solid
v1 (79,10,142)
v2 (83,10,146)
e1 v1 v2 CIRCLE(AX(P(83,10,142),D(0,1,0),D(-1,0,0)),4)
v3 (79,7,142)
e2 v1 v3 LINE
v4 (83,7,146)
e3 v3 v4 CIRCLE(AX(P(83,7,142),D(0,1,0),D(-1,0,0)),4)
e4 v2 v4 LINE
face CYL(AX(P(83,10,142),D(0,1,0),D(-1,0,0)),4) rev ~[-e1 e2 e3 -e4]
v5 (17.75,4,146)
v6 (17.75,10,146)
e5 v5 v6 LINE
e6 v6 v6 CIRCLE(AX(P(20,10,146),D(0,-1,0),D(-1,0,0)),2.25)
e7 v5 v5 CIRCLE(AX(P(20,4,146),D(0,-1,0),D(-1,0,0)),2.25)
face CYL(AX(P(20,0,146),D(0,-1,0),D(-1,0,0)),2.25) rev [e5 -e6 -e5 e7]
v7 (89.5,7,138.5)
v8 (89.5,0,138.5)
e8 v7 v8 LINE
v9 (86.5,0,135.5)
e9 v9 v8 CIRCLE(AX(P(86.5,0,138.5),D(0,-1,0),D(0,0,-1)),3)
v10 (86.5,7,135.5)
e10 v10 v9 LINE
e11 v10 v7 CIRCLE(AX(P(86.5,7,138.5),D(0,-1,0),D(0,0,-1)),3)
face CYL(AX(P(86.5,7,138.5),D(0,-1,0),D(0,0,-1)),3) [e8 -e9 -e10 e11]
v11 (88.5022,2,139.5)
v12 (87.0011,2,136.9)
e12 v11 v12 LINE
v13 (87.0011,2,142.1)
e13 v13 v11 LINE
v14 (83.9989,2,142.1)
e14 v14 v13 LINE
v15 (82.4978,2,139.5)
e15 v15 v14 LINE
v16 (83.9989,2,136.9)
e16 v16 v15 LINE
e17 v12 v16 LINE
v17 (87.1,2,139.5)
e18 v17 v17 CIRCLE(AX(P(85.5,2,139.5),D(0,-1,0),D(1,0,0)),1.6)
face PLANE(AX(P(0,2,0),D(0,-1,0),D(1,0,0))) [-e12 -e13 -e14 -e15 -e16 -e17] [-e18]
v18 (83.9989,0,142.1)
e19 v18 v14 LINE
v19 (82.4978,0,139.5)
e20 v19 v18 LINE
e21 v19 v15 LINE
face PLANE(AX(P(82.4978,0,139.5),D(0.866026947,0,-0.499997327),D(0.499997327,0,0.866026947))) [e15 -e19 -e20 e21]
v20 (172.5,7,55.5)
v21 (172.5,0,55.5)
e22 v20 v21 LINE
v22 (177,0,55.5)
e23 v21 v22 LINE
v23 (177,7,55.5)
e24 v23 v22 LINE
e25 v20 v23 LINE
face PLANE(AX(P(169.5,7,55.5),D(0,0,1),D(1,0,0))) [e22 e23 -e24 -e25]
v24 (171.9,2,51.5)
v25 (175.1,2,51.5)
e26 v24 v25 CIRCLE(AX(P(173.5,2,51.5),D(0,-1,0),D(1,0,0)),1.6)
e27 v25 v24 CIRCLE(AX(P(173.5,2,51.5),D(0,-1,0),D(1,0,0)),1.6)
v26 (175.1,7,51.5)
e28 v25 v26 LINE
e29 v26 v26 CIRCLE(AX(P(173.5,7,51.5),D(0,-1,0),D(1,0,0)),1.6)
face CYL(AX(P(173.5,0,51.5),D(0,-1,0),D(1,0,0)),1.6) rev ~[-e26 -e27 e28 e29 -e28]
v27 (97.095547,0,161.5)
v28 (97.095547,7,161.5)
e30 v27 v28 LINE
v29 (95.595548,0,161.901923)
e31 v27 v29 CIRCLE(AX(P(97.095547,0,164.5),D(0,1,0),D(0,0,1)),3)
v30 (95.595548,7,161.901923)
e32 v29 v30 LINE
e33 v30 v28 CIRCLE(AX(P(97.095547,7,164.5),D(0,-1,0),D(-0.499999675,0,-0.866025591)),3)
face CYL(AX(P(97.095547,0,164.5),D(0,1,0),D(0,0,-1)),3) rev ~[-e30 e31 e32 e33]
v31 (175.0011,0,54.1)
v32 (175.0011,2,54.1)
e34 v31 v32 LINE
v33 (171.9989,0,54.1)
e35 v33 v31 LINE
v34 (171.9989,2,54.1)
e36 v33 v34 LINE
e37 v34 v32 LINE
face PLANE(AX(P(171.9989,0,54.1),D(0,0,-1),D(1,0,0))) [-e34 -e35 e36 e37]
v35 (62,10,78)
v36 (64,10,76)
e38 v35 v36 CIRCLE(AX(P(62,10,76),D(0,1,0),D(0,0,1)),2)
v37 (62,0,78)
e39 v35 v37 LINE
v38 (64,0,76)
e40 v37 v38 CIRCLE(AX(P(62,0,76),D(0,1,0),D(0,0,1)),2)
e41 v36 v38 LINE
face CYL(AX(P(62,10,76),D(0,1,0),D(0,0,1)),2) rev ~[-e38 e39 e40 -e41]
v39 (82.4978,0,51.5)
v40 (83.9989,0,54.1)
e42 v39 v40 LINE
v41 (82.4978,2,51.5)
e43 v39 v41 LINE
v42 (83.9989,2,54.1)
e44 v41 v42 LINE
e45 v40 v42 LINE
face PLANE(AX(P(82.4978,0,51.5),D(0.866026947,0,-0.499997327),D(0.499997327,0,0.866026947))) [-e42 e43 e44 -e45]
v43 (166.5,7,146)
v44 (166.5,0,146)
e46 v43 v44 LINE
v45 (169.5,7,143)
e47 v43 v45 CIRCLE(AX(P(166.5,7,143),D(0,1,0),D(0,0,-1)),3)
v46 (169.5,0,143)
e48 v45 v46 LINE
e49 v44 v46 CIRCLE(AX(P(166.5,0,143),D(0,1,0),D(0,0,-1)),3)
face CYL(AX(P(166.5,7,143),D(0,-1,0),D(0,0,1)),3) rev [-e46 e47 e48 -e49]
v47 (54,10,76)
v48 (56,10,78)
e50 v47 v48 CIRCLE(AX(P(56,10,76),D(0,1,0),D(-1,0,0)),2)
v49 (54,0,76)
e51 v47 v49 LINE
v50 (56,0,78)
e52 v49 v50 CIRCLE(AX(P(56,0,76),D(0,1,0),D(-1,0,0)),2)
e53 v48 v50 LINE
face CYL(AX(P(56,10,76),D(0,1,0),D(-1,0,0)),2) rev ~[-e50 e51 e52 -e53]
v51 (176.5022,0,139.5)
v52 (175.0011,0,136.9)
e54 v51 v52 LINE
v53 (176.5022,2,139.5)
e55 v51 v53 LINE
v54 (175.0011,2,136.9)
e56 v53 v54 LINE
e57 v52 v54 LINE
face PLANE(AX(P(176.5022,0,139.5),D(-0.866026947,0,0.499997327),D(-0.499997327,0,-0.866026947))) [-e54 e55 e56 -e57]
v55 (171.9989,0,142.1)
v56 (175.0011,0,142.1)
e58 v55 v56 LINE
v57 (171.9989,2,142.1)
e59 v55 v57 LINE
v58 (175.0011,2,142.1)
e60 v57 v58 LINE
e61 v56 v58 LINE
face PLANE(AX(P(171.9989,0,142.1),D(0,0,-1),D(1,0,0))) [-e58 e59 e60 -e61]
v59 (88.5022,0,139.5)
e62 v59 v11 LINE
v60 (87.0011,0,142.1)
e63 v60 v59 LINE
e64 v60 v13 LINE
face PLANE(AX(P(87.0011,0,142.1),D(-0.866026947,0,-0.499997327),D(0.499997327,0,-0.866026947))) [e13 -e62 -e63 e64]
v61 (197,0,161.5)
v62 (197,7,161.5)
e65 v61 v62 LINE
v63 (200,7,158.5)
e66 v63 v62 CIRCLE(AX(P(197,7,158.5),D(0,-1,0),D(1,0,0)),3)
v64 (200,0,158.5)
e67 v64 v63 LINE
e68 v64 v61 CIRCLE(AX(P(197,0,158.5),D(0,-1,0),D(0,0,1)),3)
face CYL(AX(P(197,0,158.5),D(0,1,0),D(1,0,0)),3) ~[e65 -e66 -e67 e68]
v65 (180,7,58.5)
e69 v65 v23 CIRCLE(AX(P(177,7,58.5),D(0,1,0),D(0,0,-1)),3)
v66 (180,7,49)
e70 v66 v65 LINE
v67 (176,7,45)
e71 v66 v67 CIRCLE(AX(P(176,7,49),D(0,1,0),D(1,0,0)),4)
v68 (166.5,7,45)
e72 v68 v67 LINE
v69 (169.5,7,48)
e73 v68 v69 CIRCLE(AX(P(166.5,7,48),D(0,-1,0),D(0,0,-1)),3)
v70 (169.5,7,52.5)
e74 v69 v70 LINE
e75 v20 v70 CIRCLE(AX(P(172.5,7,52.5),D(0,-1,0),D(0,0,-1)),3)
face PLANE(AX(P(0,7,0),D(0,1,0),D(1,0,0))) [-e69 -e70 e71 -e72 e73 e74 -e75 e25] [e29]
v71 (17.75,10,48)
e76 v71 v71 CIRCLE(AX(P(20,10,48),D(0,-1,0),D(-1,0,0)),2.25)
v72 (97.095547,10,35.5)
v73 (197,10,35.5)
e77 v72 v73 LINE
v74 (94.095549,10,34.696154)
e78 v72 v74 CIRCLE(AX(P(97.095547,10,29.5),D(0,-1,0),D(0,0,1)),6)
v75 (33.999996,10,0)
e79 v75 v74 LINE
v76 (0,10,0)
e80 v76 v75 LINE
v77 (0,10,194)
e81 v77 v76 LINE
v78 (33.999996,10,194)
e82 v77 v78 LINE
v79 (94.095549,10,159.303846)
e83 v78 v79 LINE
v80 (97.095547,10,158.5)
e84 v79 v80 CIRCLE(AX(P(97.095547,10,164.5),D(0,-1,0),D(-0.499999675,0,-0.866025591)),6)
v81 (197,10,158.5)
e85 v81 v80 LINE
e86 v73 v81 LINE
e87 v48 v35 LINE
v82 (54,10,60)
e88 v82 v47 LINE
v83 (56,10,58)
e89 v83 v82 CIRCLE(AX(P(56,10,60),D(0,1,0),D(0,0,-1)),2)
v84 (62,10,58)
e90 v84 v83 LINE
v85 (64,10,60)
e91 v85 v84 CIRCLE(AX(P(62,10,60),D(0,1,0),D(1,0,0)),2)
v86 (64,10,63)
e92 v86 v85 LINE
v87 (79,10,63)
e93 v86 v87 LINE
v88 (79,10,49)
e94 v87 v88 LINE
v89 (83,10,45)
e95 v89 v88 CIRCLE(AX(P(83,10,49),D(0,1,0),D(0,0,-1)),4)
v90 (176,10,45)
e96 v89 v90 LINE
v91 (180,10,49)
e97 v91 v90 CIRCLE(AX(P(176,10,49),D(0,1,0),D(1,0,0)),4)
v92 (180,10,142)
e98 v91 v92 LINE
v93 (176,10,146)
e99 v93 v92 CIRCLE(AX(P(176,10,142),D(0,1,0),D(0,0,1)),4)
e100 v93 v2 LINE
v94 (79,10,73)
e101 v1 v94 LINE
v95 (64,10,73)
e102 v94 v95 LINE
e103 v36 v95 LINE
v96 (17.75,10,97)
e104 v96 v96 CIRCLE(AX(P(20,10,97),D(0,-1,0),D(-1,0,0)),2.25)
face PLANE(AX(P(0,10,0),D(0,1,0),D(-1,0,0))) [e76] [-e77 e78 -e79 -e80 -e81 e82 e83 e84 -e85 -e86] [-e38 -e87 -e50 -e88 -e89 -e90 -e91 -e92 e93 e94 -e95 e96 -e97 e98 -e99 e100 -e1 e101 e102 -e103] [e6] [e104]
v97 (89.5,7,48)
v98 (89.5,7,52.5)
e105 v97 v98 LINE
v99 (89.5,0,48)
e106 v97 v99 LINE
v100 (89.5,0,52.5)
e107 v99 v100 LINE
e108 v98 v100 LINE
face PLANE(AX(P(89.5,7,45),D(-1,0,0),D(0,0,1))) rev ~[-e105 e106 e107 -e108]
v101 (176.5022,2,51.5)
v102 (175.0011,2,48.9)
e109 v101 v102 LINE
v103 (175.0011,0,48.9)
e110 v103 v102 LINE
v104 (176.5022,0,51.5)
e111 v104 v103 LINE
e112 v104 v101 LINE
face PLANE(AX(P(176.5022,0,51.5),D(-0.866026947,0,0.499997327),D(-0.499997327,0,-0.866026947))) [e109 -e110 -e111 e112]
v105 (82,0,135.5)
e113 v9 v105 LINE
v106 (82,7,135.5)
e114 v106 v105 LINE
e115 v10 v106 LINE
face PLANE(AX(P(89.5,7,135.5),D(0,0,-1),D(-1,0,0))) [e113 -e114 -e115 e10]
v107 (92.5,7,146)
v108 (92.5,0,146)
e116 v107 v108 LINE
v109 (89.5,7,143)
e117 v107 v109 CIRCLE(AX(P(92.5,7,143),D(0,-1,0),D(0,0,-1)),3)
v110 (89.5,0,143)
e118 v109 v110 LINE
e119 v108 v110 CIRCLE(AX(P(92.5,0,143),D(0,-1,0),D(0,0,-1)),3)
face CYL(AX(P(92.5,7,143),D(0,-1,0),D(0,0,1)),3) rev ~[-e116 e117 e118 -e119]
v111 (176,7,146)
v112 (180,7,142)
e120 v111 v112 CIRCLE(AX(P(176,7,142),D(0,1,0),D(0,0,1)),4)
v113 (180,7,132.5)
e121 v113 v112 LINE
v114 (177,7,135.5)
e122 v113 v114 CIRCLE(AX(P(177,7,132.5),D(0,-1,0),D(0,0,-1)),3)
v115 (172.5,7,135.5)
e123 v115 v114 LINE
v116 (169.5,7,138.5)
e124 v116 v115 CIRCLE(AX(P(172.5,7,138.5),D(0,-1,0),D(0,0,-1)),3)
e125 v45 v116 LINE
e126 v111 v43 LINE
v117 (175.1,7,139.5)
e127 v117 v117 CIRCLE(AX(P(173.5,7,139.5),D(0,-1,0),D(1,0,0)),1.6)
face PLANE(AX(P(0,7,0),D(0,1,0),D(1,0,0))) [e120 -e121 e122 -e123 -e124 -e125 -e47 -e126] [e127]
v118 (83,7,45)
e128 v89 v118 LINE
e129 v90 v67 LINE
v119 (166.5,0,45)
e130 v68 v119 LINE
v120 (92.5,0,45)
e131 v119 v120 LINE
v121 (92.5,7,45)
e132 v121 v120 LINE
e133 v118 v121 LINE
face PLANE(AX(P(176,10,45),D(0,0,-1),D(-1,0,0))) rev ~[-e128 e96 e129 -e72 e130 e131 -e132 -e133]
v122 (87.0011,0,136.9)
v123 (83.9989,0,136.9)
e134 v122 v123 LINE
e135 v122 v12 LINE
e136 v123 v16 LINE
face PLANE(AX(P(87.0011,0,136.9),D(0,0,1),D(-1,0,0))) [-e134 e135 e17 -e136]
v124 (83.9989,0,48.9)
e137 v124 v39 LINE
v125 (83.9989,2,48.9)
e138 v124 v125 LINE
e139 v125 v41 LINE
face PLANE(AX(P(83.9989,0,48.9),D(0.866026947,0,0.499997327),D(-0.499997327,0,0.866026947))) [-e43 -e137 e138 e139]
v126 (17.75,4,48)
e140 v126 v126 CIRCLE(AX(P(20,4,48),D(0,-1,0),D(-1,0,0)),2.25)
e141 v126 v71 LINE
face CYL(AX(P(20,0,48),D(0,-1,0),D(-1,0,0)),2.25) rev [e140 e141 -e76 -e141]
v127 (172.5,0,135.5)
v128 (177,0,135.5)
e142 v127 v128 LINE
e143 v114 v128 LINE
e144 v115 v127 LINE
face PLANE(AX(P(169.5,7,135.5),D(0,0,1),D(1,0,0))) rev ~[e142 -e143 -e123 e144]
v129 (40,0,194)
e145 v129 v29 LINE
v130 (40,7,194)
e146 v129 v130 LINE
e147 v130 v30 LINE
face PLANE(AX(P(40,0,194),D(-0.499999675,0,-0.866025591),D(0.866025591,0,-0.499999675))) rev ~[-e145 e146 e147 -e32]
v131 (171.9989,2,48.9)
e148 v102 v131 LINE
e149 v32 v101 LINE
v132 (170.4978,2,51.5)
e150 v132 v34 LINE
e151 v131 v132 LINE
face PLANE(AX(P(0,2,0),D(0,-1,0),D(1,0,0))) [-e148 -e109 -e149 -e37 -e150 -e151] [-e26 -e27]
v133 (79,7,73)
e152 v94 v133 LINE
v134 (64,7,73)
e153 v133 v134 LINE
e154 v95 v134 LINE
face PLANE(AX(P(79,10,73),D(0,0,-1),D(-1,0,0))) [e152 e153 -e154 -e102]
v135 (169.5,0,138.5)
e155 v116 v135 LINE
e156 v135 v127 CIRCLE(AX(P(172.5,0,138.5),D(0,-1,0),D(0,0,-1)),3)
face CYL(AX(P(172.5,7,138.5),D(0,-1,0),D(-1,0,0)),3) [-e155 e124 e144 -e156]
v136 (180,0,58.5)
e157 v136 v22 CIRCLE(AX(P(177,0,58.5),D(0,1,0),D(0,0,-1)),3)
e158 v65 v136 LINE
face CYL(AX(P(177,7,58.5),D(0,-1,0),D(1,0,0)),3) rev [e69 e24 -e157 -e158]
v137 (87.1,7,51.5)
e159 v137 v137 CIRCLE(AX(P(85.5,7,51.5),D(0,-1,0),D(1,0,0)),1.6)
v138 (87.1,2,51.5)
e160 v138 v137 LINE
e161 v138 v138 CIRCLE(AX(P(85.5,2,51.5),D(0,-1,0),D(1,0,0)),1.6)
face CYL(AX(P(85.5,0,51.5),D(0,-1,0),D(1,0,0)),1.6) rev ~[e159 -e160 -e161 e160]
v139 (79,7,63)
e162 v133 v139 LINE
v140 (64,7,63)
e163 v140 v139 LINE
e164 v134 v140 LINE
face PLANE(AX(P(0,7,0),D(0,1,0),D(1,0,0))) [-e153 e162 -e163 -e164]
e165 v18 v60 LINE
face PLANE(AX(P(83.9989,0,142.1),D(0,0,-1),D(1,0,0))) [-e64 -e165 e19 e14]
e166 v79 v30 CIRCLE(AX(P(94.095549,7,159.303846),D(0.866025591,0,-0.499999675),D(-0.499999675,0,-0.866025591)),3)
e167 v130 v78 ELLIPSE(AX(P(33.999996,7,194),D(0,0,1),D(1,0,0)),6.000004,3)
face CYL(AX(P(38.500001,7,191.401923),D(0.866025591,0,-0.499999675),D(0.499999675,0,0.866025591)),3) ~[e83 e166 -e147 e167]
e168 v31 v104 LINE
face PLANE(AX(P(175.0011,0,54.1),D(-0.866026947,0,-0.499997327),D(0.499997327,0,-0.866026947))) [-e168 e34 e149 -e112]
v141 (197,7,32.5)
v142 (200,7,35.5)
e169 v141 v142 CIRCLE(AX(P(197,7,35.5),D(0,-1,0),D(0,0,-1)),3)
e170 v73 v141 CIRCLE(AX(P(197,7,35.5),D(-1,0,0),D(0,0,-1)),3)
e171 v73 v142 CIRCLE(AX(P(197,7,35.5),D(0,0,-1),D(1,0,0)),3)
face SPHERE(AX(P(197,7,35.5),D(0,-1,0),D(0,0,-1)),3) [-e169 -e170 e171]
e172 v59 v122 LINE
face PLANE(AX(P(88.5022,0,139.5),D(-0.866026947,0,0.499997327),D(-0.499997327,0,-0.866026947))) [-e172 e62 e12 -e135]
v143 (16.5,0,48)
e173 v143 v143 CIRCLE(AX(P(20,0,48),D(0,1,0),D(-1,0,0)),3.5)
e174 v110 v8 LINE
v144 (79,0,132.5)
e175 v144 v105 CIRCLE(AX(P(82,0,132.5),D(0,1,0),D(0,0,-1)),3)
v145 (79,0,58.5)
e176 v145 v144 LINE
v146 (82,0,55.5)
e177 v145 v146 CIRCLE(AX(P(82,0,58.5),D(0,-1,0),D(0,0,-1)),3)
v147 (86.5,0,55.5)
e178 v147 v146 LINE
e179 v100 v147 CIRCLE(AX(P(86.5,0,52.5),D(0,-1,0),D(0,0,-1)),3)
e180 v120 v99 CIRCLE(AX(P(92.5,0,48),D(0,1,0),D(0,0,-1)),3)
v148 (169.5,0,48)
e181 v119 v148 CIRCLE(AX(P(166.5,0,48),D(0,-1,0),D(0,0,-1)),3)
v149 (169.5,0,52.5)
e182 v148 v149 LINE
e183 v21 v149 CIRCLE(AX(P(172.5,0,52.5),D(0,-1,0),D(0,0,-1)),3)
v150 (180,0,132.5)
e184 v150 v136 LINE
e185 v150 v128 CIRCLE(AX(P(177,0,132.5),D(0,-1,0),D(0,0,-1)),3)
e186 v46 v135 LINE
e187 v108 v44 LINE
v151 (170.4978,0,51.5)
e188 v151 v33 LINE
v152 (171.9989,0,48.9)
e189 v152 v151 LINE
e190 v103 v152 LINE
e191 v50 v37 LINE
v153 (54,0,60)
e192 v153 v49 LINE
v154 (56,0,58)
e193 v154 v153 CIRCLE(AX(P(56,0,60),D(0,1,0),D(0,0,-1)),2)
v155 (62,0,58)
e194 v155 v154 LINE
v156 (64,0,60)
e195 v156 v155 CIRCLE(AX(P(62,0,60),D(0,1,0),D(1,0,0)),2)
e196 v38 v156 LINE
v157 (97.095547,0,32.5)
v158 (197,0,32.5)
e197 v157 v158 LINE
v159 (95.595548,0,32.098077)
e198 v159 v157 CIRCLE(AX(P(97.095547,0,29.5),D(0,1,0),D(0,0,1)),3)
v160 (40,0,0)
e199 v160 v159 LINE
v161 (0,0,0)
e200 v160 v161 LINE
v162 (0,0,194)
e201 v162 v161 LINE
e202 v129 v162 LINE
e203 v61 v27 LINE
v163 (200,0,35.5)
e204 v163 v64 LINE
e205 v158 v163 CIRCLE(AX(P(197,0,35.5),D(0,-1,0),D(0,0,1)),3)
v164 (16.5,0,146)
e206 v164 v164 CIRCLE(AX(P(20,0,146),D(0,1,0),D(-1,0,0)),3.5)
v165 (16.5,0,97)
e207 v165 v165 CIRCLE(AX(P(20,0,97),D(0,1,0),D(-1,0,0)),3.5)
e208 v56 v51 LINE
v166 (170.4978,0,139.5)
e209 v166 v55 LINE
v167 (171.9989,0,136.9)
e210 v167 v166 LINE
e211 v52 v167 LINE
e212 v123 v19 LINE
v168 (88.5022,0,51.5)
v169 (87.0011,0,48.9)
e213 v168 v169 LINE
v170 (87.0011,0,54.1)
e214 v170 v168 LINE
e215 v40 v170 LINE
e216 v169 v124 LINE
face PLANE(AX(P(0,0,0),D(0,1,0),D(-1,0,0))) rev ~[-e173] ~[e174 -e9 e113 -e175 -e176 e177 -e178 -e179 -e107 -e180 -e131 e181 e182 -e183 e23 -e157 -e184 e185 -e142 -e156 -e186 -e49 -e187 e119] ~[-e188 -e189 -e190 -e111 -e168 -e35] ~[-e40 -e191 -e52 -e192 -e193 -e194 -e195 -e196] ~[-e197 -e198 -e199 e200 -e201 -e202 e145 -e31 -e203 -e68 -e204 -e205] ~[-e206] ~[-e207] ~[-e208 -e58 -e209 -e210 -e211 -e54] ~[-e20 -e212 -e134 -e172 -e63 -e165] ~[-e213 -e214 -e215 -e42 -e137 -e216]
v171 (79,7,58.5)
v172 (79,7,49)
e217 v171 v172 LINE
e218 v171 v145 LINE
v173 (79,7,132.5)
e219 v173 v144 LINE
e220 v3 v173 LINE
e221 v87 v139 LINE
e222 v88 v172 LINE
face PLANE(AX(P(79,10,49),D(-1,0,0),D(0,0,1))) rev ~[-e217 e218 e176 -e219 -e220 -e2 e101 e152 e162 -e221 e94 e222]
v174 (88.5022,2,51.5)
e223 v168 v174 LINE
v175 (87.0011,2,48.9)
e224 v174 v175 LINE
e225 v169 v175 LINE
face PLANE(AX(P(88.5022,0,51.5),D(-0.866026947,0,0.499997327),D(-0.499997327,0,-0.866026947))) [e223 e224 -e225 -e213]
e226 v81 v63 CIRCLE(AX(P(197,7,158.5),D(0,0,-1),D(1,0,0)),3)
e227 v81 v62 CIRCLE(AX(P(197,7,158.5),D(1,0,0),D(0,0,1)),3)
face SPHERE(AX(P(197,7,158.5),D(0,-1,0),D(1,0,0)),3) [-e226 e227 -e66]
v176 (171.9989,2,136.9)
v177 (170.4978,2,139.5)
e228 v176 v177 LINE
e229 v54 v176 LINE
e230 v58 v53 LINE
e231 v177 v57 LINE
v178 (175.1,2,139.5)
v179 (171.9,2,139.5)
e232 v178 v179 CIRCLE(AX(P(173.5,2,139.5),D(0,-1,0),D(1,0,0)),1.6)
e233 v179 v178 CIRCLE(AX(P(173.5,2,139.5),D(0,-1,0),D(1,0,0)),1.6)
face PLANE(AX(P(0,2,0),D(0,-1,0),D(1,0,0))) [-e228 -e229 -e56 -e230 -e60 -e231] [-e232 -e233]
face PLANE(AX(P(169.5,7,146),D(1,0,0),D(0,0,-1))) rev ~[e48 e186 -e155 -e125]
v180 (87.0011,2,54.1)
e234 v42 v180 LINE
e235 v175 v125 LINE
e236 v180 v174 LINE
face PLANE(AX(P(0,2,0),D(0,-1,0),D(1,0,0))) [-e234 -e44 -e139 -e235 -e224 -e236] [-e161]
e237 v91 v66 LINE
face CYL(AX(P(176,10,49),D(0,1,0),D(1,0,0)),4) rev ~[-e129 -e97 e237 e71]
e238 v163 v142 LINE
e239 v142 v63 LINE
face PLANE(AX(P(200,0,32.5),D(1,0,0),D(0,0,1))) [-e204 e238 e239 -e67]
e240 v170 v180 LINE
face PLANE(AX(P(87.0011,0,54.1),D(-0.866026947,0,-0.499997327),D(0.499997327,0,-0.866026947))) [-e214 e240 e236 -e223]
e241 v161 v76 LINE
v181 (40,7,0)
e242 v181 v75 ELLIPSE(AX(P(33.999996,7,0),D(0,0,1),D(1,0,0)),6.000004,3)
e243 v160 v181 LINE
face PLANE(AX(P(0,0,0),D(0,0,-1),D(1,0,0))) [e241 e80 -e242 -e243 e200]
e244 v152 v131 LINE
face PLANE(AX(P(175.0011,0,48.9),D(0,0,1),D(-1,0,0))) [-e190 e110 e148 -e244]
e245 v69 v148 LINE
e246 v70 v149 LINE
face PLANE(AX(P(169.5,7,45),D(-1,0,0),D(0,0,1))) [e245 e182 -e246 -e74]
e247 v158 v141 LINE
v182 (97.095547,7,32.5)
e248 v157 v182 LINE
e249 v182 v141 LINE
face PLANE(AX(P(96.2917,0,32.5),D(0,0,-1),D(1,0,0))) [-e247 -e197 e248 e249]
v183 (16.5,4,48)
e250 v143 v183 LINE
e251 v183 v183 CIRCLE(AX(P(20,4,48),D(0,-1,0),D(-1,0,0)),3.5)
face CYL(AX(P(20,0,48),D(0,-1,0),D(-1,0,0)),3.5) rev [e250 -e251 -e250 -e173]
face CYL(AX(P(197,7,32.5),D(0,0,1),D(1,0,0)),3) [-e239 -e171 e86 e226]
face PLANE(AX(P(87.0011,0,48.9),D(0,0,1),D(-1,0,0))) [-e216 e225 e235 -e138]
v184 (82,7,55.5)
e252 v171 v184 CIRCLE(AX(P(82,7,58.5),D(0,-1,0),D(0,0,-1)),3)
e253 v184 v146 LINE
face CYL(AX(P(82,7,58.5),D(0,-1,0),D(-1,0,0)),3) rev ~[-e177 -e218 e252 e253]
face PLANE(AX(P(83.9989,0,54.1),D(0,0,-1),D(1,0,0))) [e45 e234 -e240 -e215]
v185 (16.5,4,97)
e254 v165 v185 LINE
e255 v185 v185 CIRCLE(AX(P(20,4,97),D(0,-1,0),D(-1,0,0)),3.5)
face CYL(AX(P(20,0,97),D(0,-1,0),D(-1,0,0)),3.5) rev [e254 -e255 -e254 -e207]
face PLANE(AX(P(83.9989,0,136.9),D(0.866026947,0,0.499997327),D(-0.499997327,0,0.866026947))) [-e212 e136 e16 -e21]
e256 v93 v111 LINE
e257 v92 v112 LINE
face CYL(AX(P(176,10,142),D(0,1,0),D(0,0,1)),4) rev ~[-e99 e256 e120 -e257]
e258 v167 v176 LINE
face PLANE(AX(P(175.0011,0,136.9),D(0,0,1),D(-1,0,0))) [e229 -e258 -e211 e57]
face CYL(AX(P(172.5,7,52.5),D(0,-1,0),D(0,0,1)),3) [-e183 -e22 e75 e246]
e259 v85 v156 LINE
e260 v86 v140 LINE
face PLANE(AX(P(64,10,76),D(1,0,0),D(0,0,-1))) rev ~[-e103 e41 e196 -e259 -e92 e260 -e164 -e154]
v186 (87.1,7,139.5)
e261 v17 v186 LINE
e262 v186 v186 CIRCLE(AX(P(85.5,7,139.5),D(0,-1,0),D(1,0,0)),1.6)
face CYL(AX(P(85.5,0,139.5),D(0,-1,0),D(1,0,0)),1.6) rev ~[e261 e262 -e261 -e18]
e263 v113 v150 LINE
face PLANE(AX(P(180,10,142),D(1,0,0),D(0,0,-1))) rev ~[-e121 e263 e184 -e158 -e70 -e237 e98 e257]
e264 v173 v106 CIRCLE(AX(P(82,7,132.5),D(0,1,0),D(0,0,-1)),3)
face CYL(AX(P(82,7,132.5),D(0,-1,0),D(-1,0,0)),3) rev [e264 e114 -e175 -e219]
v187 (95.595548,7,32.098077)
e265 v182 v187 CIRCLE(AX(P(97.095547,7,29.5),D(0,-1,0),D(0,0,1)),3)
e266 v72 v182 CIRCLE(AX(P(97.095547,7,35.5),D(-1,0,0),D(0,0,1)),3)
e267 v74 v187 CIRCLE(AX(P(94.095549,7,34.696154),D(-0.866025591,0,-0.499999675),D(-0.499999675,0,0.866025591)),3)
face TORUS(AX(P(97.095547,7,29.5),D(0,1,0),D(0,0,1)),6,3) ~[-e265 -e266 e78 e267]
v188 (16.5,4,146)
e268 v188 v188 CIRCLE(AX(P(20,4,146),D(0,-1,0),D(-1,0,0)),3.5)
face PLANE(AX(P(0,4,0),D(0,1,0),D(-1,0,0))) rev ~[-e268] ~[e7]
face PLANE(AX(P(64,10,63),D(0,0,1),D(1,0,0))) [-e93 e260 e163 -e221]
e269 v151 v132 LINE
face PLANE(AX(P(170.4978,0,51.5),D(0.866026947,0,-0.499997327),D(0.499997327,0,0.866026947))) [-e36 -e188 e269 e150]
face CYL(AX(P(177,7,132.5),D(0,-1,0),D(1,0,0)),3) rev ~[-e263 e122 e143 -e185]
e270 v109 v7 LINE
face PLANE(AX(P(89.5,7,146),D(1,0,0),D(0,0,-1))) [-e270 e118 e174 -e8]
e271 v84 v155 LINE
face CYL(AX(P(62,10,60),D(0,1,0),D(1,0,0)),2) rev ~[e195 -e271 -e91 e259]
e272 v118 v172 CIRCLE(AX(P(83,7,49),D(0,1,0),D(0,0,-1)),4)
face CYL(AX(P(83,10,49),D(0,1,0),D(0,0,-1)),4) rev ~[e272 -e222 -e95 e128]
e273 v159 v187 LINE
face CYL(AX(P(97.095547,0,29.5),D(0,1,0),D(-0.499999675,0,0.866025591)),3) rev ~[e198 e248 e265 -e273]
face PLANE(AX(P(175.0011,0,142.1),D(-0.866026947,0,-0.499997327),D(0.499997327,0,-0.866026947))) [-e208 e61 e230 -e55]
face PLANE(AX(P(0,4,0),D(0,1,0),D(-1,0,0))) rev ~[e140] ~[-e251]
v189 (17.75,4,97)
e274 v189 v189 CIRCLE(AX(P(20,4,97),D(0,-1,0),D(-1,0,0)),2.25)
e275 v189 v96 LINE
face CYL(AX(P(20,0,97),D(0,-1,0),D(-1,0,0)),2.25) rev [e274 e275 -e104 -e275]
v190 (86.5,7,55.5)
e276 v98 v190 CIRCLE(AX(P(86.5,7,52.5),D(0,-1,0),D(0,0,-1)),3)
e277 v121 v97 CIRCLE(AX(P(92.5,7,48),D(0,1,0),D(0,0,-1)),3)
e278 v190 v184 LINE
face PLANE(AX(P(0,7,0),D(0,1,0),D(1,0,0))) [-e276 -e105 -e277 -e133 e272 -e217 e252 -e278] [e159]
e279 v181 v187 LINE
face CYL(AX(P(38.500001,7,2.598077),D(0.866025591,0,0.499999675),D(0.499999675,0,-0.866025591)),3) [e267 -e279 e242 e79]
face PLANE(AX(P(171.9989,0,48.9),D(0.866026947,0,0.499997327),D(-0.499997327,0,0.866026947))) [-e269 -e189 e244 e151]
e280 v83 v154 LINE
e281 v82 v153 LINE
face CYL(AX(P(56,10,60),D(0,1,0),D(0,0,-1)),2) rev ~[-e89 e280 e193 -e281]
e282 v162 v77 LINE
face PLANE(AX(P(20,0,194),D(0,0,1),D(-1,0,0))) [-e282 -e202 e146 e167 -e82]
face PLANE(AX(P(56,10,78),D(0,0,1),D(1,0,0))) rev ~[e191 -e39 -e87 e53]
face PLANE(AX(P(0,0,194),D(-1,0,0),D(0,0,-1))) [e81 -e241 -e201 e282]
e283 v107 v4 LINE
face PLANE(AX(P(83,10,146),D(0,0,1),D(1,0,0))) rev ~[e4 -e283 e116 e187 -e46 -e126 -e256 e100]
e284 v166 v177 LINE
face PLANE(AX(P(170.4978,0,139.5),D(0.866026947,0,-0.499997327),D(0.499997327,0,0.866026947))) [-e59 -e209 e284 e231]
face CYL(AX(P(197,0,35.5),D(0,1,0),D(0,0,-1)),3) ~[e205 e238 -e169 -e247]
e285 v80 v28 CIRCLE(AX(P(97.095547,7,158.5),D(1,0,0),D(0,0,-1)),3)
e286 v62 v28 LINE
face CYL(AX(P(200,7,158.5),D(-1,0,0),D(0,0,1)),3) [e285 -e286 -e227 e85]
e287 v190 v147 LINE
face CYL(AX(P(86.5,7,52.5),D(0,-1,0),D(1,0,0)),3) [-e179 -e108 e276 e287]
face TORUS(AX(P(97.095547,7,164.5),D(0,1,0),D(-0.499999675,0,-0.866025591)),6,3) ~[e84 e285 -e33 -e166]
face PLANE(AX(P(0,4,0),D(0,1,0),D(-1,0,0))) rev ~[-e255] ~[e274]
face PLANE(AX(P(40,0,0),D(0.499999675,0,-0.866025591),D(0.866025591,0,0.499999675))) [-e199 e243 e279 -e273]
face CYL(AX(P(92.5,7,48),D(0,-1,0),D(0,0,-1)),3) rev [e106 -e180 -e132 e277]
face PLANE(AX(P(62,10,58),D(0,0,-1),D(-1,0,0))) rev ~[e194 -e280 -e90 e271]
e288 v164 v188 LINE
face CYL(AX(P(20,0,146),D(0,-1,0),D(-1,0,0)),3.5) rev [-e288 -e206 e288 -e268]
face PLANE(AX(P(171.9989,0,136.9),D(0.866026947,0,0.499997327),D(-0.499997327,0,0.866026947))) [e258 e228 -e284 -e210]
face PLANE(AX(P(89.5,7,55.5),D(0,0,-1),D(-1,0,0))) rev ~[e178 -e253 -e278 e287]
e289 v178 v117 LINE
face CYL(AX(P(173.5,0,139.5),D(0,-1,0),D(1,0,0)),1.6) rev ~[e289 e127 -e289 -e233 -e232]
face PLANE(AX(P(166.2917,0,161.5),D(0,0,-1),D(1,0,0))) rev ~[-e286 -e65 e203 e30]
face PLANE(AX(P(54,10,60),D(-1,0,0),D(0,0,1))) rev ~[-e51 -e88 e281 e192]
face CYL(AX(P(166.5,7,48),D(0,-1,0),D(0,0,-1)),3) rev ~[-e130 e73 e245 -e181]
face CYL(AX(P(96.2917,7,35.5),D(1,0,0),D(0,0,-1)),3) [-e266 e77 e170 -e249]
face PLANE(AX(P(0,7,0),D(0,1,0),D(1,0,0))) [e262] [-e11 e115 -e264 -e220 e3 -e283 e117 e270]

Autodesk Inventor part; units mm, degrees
ref_plane "YZ Plane" through (0, 0, 0) normal (1, 0, 0) x (0, 1, 0)
ref_plane "XZ Plane" through (0, 0, 0) normal (0, 1, 0) x (-1, 0, 0)
ref_plane "XY Plane" through (0, 0, 0) normal (0, 0, 1) x (1, 0, 0)
sketch "스케치1" plane through (0, 0, 0) normal (0, 1, 0) x (-1, 0, 0)
  line L0 (0, 0) -> (-206, 0)
  line L1 (-210, 4) -> (-210, 190)
  line L2 (-206, 194) -> (0, 194)
  line L3 (0, 194) -> (0, 0)
  line L4 (-40, 0) -> (-40, 194)
  line L5 (-20, 0) -> (-20, 194)
  circle A0 centre (-20, 97) radius 3.5
  circle A1 centre (-20, 48) radius 3.5
  circle A2 centre (-20, 146) radius 3.5
  arc A3 (-210, 4) -> (-206, 0) centre (-206, 4) ccw
  arc A4 (-206, 194) -> (-210, 190) centre (-206, 190) ccw
  circle A5 centre (-20, 97) radius 2.25
  circle A6 centre (-20, 146) radius 2.25
  circle A7 centre (-20, 48) radius 2.25
  line L6 (-40, 194) -> (-96.2917, 161.5)
  line L7 (-40, 194) -> (25, 194) construction
  line L8 (-96.2917, 161.5) -> (-166.2917, 161.5)
  line L9 (-166.2917, 161.5) -> (-189.6101, 194)
  line L10 (-210, 161.5) -> (-200, 144.1795)
  line L11 (-210, 161.5) -> (-190, 161.5) construction
  line L12 (-210, 97) -> (-40, 97)
  line L13 (-40, 0) -> (-96.2917, 32.5)
  line L14 (-96.2917, 32.5) -> (-166.2917, 32.5)
  line L15 (-166.2917, 32.5) -> (-189.6101, 0)
  line L16 (-210, 32.5) -> (-200, 49.8205)
  line L17 (-200, 144.1795) -> (-200, 49.8205)
  line L18 (-166.2917, 32.5) -> (-200, 32.5)
  line L19 (-200, 32.5) -> (-200, 49.8205)
  line L20 (-200, 144.1795) -> (-200, 161.5)
  line L21 (-166.2917, 161.5) -> (-200, 161.5)
  point P0 (-210, 194)
  point P1 (-210, 0)
  dimension "d0" = 210
  dimension "d1" = 194
  dimension "d2" = 40
  dimension "d3" = 20
  dimension "d4" = 7
  dimension "d5" = 7
  dimension "d6" = 7
  dimension "d7" = 49
  dimension "d8" = 49
  dimension "d9" = 4
  dimension "d17" = 4.5
  dimension "d18" = 4.5
  dimension "d19" = 4.5
  dimension "d82" = 65
  dimension "d83" = 150
  dimension "d84" = 70
  dimension "d85" = 40
  dimension "d86" = 20
  dimension "d87" = 60
extrude "돌출1" add sketch "스케치1" along normal blind 10
extrude "돌출2" cut sketch "스케치1" along normal blind 3 contours A1 L5 A7 | L5 A7 A1 | A7 L5 | L5 A7 | A2 L5 A6 | L5 A6 A2 | A0 L5 A5 | L5 A5 A0 | A6 L5 | L5 A6 | A5 L5 | L5 A5
sketch "스케치2" plane through (0, 0, 0) normal (0, -1, 0) x (1, 0, 0)
  line L0 (176, 45) -> (83, 45)
  line L1 (79, 49) -> (79, 142)
  line L2 (83, 146) -> (176, 146)
  line L3 (180, 142) -> (180, 49)
  line L4 (206, 0) -> (0, 0) projected
  line L5 (210, 190) -> (210, 4) projected
  arc A0 (176, 45) -> (180, 49) centre (176, 49) ccw
  arc A1 (180, 142) -> (176, 146) centre (176, 142) ccw
  arc A2 (83, 146) -> (79, 142) centre (83, 142) ccw
  arc A3 (79, 49) -> (83, 45) centre (83, 49) ccw
  line L6 (180, 45) -> (169.5, 45)
  line L7 (169.5, 45) -> (169.5, 55.5)
  line L8 (169.5, 55.5) -> (180, 55.5)
  line L9 (180, 55.5) -> (180, 45)
  line L10 (79, 45) -> (89.5, 45)
  line L11 (89.5, 45) -> (89.5, 55.5)
  line L12 (89.5, 55.5) -> (79, 55.5)
  line L13 (79, 55.5) -> (79, 45)
  line L14 (180, 146) -> (169.5, 146)
  line L15 (169.5, 146) -> (169.5, 135.5)
  line L16 (169.5, 135.5) -> (180, 135.5)
  line L17 (180, 135.5) -> (180, 146)
  line L18 (79, 146) -> (89.5, 146)
  line L19 (89.5, 146) -> (89.5, 135.5)
  line L20 (89.5, 135.5) -> (79, 135.5)
  line L21 (79, 135.5) -> (79, 146)
  circle A4 centre (173.5, 51.5) radius 1.6
  circle A5 centre (85.5, 51.5) radius 1.6
  circle A6 centre (85.5, 139.5) radius 1.6
  circle A7 centre (173.5, 139.5) radius 1.6
  line L22 (173.5, 51.5) -> (169.5, 51.5)
  line L23 (170.4978, 51.5) -> (171.9989, 54.1)
  line L24 (171.9989, 54.1) -> (175.0011, 54.1)
  line L25 (175.0011, 54.1) -> (176.5022, 51.5)
  line L26 (176.5022, 51.5) -> (175.0011, 48.9)
  line L27 (175.0011, 48.9) -> (171.9989, 48.9)
  line L28 (171.9989, 48.9) -> (170.4978, 51.5)
  line L29 (85.5, 51.5) -> (89.5, 51.5)
  line L30 (88.5022, 51.5) -> (87.0011, 48.9)
  line L31 (87.0011, 48.9) -> (83.9989, 48.9)
  line L32 (83.9989, 48.9) -> (82.4978, 51.5)
  line L33 (82.4978, 51.5) -> (83.9989, 54.1)
  line L34 (83.9989, 54.1) -> (87.0011, 54.1)
  line L35 (87.0011, 54.1) -> (88.5022, 51.5)
  line L36 (85.5, 139.5) -> (89.5, 139.5)
  line L37 (88.5022, 139.5) -> (87.0011, 136.9)
  line L38 (87.0011, 136.9) -> (83.9989, 136.9)
  line L39 (83.9989, 136.9) -> (82.4978, 139.5)
  line L40 (82.4978, 139.5) -> (83.9989, 142.1)
  line L41 (83.9989, 142.1) -> (87.0011, 142.1)
  line L42 (87.0011, 142.1) -> (88.5022, 139.5)
  line L43 (173.5, 139.5) -> (169.5, 139.5)
  line L44 (170.4978, 139.5) -> (171.9989, 142.1)
  line L45 (171.9989, 142.1) -> (175.0011, 142.1)
  line L46 (175.0011, 142.1) -> (176.5022, 139.5)
  line L47 (176.5022, 139.5) -> (175.0011, 136.9)
  line L48 (175.0011, 136.9) -> (171.9989, 136.9)
  line L49 (171.9989, 136.9) -> (170.4978, 139.5)
  point P0 (174.75, 55.5)
  dimension "d14" = 101
  dimension "d15" = 101
  dimension "d16" = 45
  dimension "d24" = 30
  dimension "d25" = 4
  dimension "d26" = 10.5
  dimension "d27" = 10.5
  dimension "d28" = 10.5
  dimension "d29" = 10.5
  dimension "d30" = 10.5
  dimension "d31" = 10.5
  dimension "d32" = 10.5
  dimension "d33" = 10.5
  dimension "d34" = 3.2
  dimension "d36" = 4
  dimension "d37" = 3.2
  dimension "d38" = 4
  dimension "d39" = 4
  dimension "d40" = 3.2
  dimension "d41" = 4
  dimension "d42" = 4
  dimension "d43" = 3.2
  dimension "d44" = 4
  dimension "d45" = 4
  dimension "d46" = 4
  dimension "d58" = 5.2
  dimension "d59" = 5.2
  dimension "d60" = 5.2
  dimension "d61" = 5.2
  dimension "d95" = 88
extrude "돌출3" cut sketch "스케치1" along normal blind 4 contours A1 L5 A7 | L5 A7 A1 | A7 L5 | L5 A7 | A2 L5 A6 | L5 A6 A2 | A0 L5 A5 | L5 A5 A0 | A6 L5 | L5 A6 | A5 L5 | L5 A5
extrude "돌출4" cut sketch "스케치1" along normal blind 10 contours A7 L5 | L5 A7 | A6 L5 | L5 A6 | A5 L5 | L5 A5
sketch "스케치4" plane through (0, 10, 0) normal (0, 1, 0) x (1, 0, 0)
  line L0 (176, -45) -> (83, -45) projected
  line L1 (180, -142) -> (180, -49) projected
  line L2 (79, -49) -> (79, -142) projected
  line L3 (83, -146) -> (176, -146) projected
  line L4 (79, -135.5) -> (79, -146) projected
  line L5 (79, -146) -> (89.5, -146) projected
  line L6 (180, -135.5) -> (180, -146) projected
  line L7 (180, -146) -> (169.5, -146) projected
  line L8 (180, -45) -> (169.5, -45) projected
  line L9 (180, -55.5) -> (180, -45) projected
  line L10 (79, -45) -> (89.5, -45) projected
  line L11 (79, -55.5) -> (79, -45) projected
  arc A0 (83, -45) -> (79, -49) centre (83, -49) ccw projected
  arc A1 (180, -49) -> (176, -45) centre (176, -49) ccw projected
  arc A2 (176, -146) -> (180, -142) centre (176, -142) ccw projected
  arc A3 (79, -142) -> (83, -146) centre (83, -142) ccw projected
  point P0 (0, 0)
extrude "돌출6" cut sketch "스케치4" against normal blind 3 contours A1 L1 A2 L3 A3 L2 A0 L0
extrude "돌출7" cut sketch "스케치2" against normal blind 10 contours A4 | A5 | A7 | A6
extrude "돌출8" cut sketch "스케치2" against normal blind 2 contours A4 | L23 L24 L25 L26 L27 L28 | A5 | L30 L31 L32 L33 L34 L35 | A7 | L44 L45 L46 L47 L48 L49 | A6 | L37 L38 L39 L40 L41 L42
sketch "스케치5" plane through (0, 7, 0) normal (0, 1, 0) x (1, 0, 0)
  line L0 (89.5, -55.5) -> (79, -55.5) projected
  line L1 (89.5, -45) -> (89.5, -55.5) projected
  line L2 (176, -45) -> (83, -45) projected
  line L3 (169.5, -45) -> (169.5, -55.5) projected
  line L4 (169.5, -55.5) -> (180, -55.5) projected
  line L5 (180, -142) -> (180, -49) projected
  line L6 (169.5, -135.5) -> (180, -135.5) projected
  line L7 (169.5, -146) -> (169.5, -135.5) projected
  line L8 (83, -146) -> (176, -146) projected
  line L9 (89.5, -146) -> (89.5, -135.5) projected
  line L10 (89.5, -135.5) -> (79, -135.5) projected
  line L11 (79, -49) -> (79, -142) projected
  point P0 (0, 0)
extrude "돌출9" cut sketch "스케치5" against normal blind 10
fillet "모깎기2" radius 3 12 edges at (169.5, 3.5, 55.5) (169.5, 3.5, 45) (180, 3.5, 55.5) (180, 3.5, 135.5) (169.5, 3.5, 135.5) (169.5, 3.5, 146) (89.5, 3.5, 146) (89.5, 3.5, 135.5) (79, 3.5, 135.5) (89.5, 3.5, 45) (79, 3.5, 55.5) (89.5, 3.5, 55.5)
extrude "돌출14" cut sketch "스케치1" along normal blind 10 contours L0 L15 L14 L13 | L6 L8 L9 L2
extrude "돌출15" cut sketch "스케치1" along normal blind 10 contours L17 L16 L1 L12 | L12 L1 L10 L17
extrude "돌출16" cut sketch "스케치1" along normal blind 10 contours L0 A3 L1 L16 L19 L18 L15 | L9 L21 L20 L10 L1 A4 L2
fillet "모깎기5" radius 3 9 edges at (200, 5, 32.5) (200, 5, 161.5) (148.1458, 10, 32.5) (200, 10, 97) (148.1458, 10, 161.5) (68.1458, 10, 16.25) (96.2917, 5, 32.5) (96.2917, 5, 161.5) (68.1458, 10, 177.75)
sketch "스케치11" plane through (0, 10, 0) normal (0, 1, 0) x (1, 0, 0)
  line L0 (34, 0) -> (94.0955, -34.6962) projected
  line L1 (34, 0) -> (0, 0) projected
  line L2 (0, 0) -> (0, -194) projected
  line L3 (0, -194) -> (34, -194) projected
  line L4 (94.0955, -159.3038) -> (34, -194) projected
  arc A0 (97.0955, -158.5) -> (94.0955, -159.3038) centre (97.0955, -164.5) ccw projected
  line L5 (197, -158.5) -> (97.0955, -158.5) projected
  line L6 (197, -35.5) -> (197, -158.5) projected
  line L7 (97.0955, -35.5) -> (197, -35.5) projected
  arc A1 (94.0955, -34.6962) -> (97.0955, -35.5) centre (97.0955, -29.5) ccw projected
  circle A2 centre (20, -48) radius 2.25 projected
  circle A3 centre (20, -97) radius 2.25 projected
  circle A4 centre (20, -146) radius 2.25 projected
  arc A5 (176, -146) -> (180, -142) centre (176, -142) ccw projected
  line L8 (176, -146) -> (83, -146) projected
  arc A6 (79, -142) -> (83, -146) centre (83, -142) ccw projected
  line L9 (79, -142) -> (79, -49) projected
  arc A7 (83, -45) -> (79, -49) centre (83, -49) ccw projected
  line L10 (83, -45) -> (176, -45) projected
  arc A8 (180, -49) -> (176, -45) centre (176, -49) ccw projected
  line L11 (180, -49) -> (180, -142) projected
  line L12 (210, -97) -> (40, -97) projected
  arc A9 (54, -76) -> (56, -78) centre (56, -76) ccw
  line L13 (56, -78) -> (62, -78)
  arc A10 (62, -78) -> (64, -76) centre (62, -76) ccw
  line L14 (64, -76) -> (64, -60)
  arc A11 (64, -60) -> (62, -58) centre (62, -60) ccw
  line L15 (62, -58) -> (56, -58)
  arc A12 (56, -58) -> (54, -60) centre (56, -60) ccw
  line L16 (54, -60) -> (54, -76)
  line L17 (79, -58.5) -> (79, -132.5) projected
  line L18 (79, -73) -> (64, -73)
  line L19 (64, -73) -> (64, -63)
  line L20 (64, -63) -> (79, -63)
  line L21 (79, -63) -> (79, -73)
  dimension "d104" = 3
  dimension "d105" = 3
extrude "돌출19" cut sketch "스케치11" against normal blind 3 contours L18 L14 L20 L9
extrude "돌출20" cut sketch "스케치11" against normal blind 10 contours L14 A10 L13 A9 L16 A12 L15 A11
properties part number "XY_STAGE_BOARD1"
